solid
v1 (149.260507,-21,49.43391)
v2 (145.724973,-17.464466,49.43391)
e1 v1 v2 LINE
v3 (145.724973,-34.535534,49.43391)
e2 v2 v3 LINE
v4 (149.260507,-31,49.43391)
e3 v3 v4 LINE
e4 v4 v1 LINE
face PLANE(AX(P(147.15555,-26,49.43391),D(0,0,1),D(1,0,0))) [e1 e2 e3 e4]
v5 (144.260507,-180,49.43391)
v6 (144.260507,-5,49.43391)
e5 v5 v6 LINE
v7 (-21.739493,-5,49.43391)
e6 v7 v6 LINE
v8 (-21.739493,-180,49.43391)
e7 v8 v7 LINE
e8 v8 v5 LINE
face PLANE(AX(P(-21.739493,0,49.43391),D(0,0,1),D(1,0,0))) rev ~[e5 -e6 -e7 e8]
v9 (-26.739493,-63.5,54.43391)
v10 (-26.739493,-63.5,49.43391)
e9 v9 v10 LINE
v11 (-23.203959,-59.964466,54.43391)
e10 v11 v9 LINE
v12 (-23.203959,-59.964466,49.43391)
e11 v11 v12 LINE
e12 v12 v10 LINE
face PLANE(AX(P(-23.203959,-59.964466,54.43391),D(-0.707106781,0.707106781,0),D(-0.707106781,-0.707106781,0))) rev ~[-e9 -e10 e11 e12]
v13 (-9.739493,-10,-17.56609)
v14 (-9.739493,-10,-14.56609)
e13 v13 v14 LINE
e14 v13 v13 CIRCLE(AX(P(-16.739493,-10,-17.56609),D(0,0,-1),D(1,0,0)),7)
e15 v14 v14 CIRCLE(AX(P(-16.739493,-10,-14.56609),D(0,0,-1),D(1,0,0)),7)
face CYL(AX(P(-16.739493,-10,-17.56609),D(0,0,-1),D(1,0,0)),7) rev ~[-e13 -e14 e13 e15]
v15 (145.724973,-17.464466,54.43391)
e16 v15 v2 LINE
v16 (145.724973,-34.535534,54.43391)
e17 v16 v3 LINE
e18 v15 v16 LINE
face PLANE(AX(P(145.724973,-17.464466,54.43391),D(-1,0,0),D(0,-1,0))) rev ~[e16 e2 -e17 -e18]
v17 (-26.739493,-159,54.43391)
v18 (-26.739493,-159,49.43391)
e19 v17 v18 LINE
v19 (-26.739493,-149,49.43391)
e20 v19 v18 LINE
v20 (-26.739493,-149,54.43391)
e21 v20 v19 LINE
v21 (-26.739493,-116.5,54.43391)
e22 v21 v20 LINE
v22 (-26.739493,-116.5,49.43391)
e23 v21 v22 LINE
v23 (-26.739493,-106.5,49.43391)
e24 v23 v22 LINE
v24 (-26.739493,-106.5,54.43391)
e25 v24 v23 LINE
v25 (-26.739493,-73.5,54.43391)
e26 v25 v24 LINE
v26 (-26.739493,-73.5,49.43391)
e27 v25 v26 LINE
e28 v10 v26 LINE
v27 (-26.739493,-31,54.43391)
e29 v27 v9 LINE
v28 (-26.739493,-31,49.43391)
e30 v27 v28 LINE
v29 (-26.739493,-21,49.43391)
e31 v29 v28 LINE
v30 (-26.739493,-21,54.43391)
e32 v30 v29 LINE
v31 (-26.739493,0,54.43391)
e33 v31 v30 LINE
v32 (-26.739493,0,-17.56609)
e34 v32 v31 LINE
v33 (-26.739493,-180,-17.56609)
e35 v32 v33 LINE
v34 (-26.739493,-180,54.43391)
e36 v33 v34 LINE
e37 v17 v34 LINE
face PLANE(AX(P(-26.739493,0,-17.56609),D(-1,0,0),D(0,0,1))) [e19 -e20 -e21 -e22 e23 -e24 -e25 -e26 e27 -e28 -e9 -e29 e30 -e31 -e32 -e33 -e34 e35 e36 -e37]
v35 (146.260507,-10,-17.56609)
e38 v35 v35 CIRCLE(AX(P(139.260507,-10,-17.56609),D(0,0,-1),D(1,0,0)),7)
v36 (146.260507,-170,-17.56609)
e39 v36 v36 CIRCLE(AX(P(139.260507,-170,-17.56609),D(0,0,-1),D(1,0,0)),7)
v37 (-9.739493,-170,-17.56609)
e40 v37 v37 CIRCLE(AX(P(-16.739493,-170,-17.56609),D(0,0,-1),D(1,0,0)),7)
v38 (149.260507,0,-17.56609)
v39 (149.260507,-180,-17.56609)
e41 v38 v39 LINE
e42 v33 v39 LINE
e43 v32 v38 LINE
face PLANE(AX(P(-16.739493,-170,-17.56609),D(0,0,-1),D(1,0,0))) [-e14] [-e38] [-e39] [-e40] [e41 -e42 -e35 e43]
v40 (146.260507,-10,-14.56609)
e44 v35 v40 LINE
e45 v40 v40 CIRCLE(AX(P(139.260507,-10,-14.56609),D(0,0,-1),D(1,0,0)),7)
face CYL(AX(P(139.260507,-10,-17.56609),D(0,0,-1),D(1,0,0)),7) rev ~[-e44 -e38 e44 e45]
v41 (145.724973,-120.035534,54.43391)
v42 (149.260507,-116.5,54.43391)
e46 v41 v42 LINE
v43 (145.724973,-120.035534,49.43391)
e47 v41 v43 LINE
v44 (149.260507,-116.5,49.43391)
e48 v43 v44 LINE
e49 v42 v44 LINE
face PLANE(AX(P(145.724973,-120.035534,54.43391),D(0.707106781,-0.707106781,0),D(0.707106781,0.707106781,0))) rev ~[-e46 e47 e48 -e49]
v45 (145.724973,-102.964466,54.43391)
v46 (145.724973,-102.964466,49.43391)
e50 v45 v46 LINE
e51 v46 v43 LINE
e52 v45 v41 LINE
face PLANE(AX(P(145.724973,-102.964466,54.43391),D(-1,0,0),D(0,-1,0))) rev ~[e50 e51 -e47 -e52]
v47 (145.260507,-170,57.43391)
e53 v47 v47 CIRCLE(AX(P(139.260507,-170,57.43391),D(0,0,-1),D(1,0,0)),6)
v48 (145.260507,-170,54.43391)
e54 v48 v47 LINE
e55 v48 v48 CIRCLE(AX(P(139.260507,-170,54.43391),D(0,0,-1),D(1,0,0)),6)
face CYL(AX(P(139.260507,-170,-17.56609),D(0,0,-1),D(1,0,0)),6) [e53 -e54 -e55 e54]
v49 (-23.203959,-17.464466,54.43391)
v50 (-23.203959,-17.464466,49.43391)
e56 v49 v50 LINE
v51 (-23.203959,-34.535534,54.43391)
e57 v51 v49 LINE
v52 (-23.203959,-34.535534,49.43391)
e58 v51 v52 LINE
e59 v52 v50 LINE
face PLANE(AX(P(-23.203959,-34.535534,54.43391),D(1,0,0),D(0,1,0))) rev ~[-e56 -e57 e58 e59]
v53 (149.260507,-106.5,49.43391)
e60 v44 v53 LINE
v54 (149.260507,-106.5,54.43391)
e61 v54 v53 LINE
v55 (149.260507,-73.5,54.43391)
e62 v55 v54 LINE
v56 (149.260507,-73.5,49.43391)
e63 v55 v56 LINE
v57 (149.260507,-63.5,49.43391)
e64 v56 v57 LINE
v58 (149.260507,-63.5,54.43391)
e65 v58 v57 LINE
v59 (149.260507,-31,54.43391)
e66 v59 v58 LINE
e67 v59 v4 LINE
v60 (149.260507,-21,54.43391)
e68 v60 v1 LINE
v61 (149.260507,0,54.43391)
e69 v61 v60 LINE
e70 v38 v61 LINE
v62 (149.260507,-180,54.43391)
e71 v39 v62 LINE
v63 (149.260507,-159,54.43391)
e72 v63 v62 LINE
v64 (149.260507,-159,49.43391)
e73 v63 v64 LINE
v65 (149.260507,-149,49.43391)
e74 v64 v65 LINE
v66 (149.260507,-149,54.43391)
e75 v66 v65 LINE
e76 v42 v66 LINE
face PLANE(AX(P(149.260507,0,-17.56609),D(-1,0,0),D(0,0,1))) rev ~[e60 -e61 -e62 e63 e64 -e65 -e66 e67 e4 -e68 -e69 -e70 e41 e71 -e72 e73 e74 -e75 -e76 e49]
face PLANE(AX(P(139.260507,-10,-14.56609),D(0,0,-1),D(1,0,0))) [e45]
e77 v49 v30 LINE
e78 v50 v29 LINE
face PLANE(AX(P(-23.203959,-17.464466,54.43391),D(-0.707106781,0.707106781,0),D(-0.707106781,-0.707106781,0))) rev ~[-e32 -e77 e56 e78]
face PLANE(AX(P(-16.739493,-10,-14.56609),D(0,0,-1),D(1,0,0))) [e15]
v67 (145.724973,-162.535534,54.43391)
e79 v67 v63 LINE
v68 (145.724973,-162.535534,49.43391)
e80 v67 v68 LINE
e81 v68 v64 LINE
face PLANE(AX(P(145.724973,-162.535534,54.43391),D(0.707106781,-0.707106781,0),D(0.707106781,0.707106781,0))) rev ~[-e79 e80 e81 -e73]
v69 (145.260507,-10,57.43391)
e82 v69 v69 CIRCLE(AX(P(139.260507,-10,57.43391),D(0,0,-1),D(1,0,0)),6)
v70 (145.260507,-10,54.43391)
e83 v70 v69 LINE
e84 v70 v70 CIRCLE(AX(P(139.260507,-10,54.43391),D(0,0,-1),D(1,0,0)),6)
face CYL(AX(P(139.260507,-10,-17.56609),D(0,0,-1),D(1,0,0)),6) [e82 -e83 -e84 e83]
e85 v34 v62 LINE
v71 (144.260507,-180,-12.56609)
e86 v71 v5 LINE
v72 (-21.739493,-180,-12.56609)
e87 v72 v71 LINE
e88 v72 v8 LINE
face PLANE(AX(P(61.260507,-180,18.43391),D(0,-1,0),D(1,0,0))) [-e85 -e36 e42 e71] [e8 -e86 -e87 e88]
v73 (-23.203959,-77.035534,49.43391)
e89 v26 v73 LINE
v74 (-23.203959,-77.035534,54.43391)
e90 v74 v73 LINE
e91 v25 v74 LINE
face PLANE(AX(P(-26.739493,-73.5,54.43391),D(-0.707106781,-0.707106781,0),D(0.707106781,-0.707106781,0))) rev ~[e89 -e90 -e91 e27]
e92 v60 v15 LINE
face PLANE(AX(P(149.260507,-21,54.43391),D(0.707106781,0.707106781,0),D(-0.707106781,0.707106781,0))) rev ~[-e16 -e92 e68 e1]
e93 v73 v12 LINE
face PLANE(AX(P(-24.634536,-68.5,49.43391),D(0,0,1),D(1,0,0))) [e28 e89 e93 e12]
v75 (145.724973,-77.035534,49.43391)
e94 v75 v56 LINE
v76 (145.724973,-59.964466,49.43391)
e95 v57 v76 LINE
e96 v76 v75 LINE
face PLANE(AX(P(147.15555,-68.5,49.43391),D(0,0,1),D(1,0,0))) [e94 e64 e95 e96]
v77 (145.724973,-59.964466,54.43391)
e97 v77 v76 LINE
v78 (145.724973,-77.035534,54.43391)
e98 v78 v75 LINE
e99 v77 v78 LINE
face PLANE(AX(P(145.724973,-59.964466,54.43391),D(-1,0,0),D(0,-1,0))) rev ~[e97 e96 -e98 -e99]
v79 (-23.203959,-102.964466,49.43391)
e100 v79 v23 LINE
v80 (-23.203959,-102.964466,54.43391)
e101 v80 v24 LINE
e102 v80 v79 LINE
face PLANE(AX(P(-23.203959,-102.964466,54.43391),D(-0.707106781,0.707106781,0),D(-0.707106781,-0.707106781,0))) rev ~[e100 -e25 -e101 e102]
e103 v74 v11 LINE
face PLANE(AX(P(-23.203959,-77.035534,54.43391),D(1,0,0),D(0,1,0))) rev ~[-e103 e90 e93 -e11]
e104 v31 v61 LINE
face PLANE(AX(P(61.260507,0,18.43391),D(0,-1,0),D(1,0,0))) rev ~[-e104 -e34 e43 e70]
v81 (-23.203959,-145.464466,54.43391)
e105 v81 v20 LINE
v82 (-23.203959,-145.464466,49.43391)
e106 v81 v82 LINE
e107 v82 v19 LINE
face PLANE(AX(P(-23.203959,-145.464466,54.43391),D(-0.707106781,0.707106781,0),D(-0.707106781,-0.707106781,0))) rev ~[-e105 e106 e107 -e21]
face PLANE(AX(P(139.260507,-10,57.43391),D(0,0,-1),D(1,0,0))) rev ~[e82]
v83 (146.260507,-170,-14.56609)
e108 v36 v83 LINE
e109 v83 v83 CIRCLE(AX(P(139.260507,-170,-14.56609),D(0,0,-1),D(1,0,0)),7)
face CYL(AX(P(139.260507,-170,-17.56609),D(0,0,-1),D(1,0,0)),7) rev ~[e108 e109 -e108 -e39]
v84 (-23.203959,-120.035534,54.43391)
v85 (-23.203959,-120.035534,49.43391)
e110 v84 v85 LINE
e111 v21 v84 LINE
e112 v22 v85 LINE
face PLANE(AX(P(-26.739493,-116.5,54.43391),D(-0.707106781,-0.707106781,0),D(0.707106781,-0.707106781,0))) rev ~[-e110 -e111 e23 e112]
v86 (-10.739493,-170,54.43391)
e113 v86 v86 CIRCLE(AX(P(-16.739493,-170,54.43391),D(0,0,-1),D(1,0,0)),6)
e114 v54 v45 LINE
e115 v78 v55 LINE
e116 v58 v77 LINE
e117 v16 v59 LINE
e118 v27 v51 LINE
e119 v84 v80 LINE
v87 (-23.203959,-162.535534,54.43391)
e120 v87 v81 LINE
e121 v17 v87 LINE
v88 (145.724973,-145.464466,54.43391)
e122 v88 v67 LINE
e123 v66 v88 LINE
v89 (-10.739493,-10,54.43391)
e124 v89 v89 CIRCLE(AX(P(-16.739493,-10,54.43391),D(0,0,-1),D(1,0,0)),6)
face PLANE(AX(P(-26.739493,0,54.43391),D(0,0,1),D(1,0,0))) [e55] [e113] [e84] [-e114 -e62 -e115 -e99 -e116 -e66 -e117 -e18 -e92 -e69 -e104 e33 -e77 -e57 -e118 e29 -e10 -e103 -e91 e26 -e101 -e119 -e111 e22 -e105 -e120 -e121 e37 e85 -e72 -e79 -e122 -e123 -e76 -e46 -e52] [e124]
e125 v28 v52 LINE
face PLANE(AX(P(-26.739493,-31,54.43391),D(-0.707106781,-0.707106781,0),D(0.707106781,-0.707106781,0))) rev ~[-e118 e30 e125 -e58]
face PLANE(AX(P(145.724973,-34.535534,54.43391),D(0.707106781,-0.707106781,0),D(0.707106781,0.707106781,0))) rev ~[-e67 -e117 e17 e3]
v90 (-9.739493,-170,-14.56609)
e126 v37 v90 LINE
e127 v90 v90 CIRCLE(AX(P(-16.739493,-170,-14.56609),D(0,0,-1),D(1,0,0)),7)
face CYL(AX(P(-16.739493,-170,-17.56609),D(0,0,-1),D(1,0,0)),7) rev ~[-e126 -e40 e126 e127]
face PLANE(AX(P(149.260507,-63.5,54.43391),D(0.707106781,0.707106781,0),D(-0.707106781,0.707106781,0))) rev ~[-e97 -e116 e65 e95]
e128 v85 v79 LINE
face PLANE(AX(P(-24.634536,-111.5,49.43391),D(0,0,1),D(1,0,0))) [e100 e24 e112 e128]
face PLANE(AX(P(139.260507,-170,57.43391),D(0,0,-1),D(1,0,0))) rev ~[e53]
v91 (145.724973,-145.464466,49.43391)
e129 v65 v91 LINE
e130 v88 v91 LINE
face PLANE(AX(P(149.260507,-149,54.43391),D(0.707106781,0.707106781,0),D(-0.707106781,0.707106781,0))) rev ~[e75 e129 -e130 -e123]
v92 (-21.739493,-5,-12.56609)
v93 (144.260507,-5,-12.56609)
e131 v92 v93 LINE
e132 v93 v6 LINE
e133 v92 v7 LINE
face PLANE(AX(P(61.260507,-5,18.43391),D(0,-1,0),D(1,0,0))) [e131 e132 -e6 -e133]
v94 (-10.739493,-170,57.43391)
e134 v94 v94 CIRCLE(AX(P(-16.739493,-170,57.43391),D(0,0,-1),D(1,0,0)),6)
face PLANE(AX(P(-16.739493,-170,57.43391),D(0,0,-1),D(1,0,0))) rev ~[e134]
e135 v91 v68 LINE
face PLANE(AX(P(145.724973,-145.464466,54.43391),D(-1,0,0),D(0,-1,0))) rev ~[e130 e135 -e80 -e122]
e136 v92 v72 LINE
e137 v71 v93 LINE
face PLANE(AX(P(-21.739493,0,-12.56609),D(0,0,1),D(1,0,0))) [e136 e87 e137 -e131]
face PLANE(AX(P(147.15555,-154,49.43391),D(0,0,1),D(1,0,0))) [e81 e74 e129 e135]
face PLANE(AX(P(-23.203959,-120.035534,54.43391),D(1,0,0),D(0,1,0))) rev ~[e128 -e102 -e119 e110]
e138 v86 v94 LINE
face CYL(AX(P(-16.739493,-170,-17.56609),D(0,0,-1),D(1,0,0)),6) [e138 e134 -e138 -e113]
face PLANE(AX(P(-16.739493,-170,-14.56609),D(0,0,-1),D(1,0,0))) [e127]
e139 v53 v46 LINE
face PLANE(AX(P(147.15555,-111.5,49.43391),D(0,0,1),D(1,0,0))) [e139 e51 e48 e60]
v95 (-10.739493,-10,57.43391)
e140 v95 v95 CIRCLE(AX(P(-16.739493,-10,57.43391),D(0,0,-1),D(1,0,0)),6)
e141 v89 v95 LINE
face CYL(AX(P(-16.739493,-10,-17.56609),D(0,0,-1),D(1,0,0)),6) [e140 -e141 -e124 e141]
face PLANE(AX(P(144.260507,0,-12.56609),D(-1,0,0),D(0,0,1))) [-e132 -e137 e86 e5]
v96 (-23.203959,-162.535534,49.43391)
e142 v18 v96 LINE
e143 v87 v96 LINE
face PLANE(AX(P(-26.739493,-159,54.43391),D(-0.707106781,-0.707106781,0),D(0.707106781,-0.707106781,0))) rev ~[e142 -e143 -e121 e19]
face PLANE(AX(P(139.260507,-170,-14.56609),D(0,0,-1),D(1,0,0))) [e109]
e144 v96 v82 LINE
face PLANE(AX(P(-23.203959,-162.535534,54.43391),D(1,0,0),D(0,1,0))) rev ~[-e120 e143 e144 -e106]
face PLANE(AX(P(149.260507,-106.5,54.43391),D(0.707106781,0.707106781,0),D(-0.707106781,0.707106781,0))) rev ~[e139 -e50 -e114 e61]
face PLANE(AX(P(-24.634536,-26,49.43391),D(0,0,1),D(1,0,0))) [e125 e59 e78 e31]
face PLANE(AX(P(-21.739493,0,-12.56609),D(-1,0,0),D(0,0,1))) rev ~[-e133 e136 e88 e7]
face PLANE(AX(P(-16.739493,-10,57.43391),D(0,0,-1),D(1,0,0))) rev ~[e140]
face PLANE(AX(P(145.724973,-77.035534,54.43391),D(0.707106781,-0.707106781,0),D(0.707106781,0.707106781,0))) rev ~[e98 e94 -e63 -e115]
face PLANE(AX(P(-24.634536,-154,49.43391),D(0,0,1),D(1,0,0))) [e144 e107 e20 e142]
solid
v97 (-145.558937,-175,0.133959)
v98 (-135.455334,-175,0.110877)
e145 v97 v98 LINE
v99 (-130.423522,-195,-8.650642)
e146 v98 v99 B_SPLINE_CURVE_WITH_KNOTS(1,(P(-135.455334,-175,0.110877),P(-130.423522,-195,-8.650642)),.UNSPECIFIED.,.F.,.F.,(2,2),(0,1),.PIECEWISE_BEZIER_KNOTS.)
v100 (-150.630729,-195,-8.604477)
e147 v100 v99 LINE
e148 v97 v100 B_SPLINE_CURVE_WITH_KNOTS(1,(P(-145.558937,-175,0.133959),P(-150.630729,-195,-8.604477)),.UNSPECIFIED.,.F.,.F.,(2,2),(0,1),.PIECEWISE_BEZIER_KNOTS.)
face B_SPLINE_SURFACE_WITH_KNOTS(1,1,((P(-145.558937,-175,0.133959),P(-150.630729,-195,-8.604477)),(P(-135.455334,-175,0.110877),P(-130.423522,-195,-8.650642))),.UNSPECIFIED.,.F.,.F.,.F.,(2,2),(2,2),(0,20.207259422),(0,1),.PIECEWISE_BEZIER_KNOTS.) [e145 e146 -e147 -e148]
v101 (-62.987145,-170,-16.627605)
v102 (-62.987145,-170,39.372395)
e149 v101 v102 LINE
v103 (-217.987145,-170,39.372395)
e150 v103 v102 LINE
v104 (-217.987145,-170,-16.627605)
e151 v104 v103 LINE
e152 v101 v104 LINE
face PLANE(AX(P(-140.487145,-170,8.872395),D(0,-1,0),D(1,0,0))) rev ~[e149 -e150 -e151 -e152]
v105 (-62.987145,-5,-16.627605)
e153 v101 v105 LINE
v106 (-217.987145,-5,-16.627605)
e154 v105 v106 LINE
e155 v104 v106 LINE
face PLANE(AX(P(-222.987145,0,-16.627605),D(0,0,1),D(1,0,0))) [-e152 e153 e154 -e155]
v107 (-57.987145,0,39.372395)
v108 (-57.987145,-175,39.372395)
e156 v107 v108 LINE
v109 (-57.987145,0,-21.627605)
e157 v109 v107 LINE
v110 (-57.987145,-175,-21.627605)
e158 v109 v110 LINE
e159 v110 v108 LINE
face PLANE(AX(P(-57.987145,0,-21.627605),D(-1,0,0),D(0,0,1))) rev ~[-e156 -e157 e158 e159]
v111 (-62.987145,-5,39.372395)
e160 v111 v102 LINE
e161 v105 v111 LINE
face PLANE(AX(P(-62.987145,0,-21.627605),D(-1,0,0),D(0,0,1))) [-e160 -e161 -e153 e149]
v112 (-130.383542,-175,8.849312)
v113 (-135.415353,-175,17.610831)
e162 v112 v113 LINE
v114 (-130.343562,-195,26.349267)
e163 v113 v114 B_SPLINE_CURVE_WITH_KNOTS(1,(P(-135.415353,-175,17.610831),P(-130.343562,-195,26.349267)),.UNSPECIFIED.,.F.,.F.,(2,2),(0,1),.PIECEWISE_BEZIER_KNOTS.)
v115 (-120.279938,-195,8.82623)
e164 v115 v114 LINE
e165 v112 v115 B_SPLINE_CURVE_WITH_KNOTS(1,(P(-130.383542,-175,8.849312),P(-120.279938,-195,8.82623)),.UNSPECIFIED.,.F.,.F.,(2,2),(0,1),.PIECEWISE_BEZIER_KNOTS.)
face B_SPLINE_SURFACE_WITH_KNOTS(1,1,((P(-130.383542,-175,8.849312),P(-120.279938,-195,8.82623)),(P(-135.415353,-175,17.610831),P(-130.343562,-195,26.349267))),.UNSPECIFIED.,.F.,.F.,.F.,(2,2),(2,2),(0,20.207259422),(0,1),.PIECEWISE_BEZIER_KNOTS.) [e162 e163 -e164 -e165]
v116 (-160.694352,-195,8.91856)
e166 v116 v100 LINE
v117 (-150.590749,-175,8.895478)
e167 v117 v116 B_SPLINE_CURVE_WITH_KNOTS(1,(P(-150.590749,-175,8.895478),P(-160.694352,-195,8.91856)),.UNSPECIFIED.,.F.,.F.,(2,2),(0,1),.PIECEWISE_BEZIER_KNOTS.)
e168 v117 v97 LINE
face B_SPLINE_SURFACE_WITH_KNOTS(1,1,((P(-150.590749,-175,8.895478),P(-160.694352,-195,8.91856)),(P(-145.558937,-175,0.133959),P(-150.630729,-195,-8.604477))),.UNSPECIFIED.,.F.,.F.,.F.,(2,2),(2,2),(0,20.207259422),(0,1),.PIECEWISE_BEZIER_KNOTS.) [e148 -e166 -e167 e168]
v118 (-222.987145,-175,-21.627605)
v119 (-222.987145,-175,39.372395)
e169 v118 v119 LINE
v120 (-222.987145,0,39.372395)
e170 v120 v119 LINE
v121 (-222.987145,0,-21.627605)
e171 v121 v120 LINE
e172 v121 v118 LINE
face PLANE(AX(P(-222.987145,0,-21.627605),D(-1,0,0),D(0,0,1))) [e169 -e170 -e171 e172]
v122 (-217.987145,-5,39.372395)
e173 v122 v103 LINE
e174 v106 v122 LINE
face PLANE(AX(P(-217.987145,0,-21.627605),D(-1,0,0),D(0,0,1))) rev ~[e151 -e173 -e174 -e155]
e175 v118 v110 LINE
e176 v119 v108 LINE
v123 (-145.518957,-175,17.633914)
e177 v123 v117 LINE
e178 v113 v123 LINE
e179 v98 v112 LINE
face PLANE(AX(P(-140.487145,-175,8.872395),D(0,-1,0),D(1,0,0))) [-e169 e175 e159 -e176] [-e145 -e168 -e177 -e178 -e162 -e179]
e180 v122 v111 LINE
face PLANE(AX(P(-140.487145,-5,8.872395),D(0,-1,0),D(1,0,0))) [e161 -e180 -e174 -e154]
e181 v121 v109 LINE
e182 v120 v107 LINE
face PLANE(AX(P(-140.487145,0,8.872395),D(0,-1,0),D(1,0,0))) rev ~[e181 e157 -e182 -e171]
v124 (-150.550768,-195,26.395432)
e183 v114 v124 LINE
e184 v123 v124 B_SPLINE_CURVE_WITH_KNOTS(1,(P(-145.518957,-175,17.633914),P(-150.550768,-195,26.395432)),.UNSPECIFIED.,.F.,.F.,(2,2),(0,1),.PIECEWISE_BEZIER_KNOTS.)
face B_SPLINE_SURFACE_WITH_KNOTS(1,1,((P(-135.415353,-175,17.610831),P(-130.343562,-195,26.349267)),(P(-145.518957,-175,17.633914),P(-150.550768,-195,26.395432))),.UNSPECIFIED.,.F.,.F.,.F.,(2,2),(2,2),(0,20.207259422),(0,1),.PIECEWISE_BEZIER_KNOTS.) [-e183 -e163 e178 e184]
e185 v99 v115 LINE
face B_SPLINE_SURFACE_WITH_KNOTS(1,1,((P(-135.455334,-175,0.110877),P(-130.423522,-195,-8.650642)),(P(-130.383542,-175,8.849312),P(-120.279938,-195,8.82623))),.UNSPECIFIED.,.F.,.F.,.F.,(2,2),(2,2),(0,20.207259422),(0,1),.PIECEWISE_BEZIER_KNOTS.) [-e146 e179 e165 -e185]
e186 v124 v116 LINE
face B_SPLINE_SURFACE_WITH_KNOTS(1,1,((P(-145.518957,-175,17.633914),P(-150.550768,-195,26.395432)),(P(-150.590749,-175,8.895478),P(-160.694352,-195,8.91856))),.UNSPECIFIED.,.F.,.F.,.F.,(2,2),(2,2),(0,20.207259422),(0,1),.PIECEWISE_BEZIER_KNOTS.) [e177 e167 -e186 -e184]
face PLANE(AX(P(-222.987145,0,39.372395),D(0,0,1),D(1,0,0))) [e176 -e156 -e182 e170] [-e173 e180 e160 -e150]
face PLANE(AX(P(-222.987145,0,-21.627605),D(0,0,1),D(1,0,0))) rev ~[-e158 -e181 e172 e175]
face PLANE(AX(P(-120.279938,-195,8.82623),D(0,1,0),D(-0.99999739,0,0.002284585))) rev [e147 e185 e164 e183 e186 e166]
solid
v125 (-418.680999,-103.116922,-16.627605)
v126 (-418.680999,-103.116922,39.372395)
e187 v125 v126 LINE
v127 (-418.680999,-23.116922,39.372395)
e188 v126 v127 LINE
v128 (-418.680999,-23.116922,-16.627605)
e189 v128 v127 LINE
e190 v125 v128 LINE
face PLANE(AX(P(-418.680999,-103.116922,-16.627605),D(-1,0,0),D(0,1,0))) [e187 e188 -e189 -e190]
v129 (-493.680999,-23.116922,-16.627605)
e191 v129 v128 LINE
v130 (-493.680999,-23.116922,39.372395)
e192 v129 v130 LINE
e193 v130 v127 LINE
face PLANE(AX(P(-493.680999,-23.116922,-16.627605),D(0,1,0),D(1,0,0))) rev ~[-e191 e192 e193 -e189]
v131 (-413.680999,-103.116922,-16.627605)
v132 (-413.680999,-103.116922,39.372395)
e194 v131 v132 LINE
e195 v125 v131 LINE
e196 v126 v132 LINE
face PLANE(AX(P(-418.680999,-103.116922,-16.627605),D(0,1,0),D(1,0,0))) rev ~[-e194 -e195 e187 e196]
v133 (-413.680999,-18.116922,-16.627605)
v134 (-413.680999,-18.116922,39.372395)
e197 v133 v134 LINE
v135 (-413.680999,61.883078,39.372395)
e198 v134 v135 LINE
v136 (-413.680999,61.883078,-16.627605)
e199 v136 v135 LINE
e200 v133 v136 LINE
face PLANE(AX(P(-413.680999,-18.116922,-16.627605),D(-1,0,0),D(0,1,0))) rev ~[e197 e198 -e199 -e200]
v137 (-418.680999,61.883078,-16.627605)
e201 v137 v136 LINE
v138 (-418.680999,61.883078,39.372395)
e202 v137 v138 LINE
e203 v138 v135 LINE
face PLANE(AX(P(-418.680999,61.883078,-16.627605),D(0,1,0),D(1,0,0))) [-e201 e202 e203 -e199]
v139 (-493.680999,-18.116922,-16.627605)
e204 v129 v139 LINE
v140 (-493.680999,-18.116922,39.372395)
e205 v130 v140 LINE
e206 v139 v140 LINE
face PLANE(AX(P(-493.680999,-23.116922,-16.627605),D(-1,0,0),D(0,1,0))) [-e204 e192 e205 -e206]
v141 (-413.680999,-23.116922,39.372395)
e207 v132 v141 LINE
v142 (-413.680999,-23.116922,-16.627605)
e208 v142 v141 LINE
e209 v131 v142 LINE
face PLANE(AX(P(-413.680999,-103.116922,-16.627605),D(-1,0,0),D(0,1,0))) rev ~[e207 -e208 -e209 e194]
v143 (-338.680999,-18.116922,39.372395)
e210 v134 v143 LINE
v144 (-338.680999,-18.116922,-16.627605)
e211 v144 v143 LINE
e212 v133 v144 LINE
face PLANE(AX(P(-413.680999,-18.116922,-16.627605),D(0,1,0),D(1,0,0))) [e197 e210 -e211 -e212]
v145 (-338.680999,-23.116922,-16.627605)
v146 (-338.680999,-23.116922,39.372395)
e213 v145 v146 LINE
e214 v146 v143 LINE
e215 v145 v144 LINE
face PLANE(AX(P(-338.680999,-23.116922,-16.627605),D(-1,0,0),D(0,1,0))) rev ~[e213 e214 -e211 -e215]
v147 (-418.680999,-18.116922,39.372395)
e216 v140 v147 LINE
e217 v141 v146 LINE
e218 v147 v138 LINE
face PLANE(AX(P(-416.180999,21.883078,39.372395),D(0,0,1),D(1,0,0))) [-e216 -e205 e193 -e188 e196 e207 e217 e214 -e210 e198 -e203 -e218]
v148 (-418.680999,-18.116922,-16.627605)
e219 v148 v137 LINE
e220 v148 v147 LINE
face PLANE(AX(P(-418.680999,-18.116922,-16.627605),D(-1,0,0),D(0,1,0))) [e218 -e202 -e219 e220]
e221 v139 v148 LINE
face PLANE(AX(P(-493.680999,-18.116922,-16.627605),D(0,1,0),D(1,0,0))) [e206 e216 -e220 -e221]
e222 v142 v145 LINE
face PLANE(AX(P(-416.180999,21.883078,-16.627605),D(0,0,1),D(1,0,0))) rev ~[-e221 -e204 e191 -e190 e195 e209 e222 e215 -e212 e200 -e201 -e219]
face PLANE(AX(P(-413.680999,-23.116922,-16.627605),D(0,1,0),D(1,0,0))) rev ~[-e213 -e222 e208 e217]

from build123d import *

# Parameters (mm, degrees)
F0_W      = 166
F0_H      = 62
F1_DEPTH  = 5
F0_W_2    = 176
F0_H_2    = 72
F2_DEPTH  = 180
F3_W      = 165
F3_H      = 61
F4_DEPTH  = 175
F5_T      = -5
F10_R     = 6
F11_DEPTH = 75
F10_R_2   = 7
F12_DEPTH = 3
F13_DEPTH = 314
F14_DEPTH = 5
F15_W     = 5
F15_H     = 80
F15_W_2   = 75
F15_H_2   = 5
F16_DEPTH = 56
F18_DEPTH = 5
F19_DEPTH = 3
F19_TAPER = -3


with BuildPart() as f1:
    # F0 (on Front) → F1 (new body)
    with BuildSketch(Plane.XZ):
        with Locations((61.2605069876, 18.4339095503)):
            Rectangle(F0_W, F0_H)
    extrude(amount=F1_DEPTH)

    # F0 (on Front) → F2 (join)
    with BuildSketch(Plane.XZ):
        with Locations((61.2605069876, 18.4339095503)):
            Rectangle(F0_W_2, F0_H_2)
        with Locations((61.2605069876, 18.4339095503)):
            Rectangle(F0_W, F0_H, mode=Mode.SUBTRACT)
    extrude(amount=F2_DEPTH)

    # F10 (on face) → F11 (join)
    with BuildSketch(Plane(origin=(0, 0, -17.5660904497), x_dir=(1, 0, 0), z_dir=(0, 0, -1))):
        with Locations((-16.7394930124, 170)):
            Circle(F10_R)
        with Locations((139.2605069876, 170)):
            Circle(F10_R)
        with Locations((139.2605069876, 10)):
            Circle(F10_R)
        with Locations((-16.7394930124, 10)):
            Circle(F10_R)
    extrude(amount=-F11_DEPTH)

    # F10 (on face) → F12 (cut)
    with BuildSketch(Plane(origin=(0, 0, -17.5660904497), x_dir=(1, 0, 0), z_dir=(0, 0, -1))):
        with Locations((-16.7394930124, 170)):
            Circle(F10_R_2)
        with Locations((-16.7394930124, 170)):
            Circle(F10_R, mode=Mode.SUBTRACT)
        with Locations((139.2605069876, 170)):
            Circle(F10_R_2)
        with Locations((139.2605069876, 170)):
            Circle(F10_R, mode=Mode.SUBTRACT)
        with Locations((139.2605069876, 10)):
            Circle(F10_R_2)
        with Locations((139.2605069876, 10)):
            Circle(F10_R, mode=Mode.SUBTRACT)
        with Locations((-16.7394930124, 10)):
            Circle(F10_R_2)
        with Locations((-16.7394930124, 10)):
            Circle(F10_R, mode=Mode.SUBTRACT)
    extrude(amount=-F12_DEPTH, mode=Mode.SUBTRACT)

    # F0 (on Front) → F13 (cut)
    with BuildSketch(Plane.XZ):
        with Locations((61.2605069876, 18.4339095503)):
            Rectangle(F0_W, F0_H)
    extrude(amount=F13_DEPTH, mode=Mode.SUBTRACT)

    # F0 (on Front) → F14 (join)
    with BuildSketch(Plane.XZ):
        with Locations((61.2605069876, 18.4339095503)):
            Rectangle(F0_W, F0_H)
    extrude(amount=F14_DEPTH)

    # F17 (on face) → F18 (cut)
    with BuildSketch(Plane.XY.offset(54.4339095503)):
        Polygon((-23.2039591065, -17.4644660941), (-26.7394930124, -21), (-26.7394930124, -31), (-23.2039591065, -34.5355339059), align=None)
        Polygon((-26.7394930124, -63.5), (-26.7394930124, -73.5), (-23.2039591065, -77.0355339059), (-23.2039591065, -59.9644660941), align=None)
        Polygon((-26.7394930124, -106.5), (-26.7394930124, -116.5), (-23.2039591065, -120.0355339059), (-23.2039591065, -102.9644660941), align=None)
        Polygon((-26.7394930124, -149), (-26.7394930124, -159), (-23.2039591065, -162.5355339059), (-23.2039591065, -145.4644660941), align=None)
        Polygon((149.2605069876, -159), (149.2605069876, -149), (145.7249730816, -145.4644660941), (145.7249730816, -162.5355339059), align=None)
        Polygon((145.7249730816, -120.0355339059), (149.2605069876, -116.5), (149.2605069876, -106.5), (145.7249730816, -102.9644660941), align=None)
        Polygon((145.7249730816, -77.0355339059), (149.2605069876, -73.5), (149.2605069876, -63.5), (145.7249730816, -59.9644660941), align=None)
        Polygon((145.7249730816, -34.5355339059), (149.2605069876, -31), (149.2605069876, -21), (145.7249730816, -17.4644660941), align=None)
    extrude(amount=-F18_DEPTH, mode=Mode.SUBTRACT)

    # F10 (on face) → F19 (cut)
    with BuildSketch(Plane(origin=(0, 0, -17.5660904497), x_dir=(1, 0, 0), z_dir=(0, 0, -1))):
        with Locations((-16.7394930124, 10)):
            Circle(F10_R)
        with Locations((139.2605069876, 10)):
            Circle(F10_R)
        with Locations((139.2605069876, 170)):
            Circle(F10_R)
        with Locations((-16.7394930124, 170)):
            Circle(F10_R)
    extrude(amount=-F19_DEPTH, taper=F19_TAPER, mode=Mode.SUBTRACT)


with BuildPart() as f4:
    # F3 (on Front) → F4 (new body)
    with BuildSketch(Plane.XZ):
        with Locations((-140.4871451855, 8.8723950386)):
            Rectangle(F3_W, F3_H)
    extrude(amount=F4_DEPTH)

    # F5
    f5_openings = [f4.faces().sort_by_distance(p)[0] for p in [
        (-140.487145, -87.5, 39.372395),
    ]]
    offset(amount=F5_T, openings=f5_openings)

    # F6 (on face) → F9 section 0
    with BuildSketch(Plane.XZ.offset(175)):
        Polygon((-130.3835418418, 8.8493124353), (-135.4153533928, 17.6108309024), (-145.5189567365, 17.6339135056), (-150.5907485292, 8.8954776419), (-145.5589369781, 0.1339591748), (-135.4553336344, 0.1108765716), align=None)
    # F8 (on offset) → F9 section 1
    with BuildSketch(Plane.XZ.offset(195)):
        Polygon((-120.2799384981, 8.8262298321), (-130.3435616002, 26.3492667662), (-150.5507682876, 26.3954319727), (-160.6943518729, 8.9185602451), (-150.6307287708, -8.6044766889), (-130.4235220834, -8.6506418955), align=None)
    loft()


with BuildPart() as f16:
    # F15 (on face) → F16 (new body)
    with BuildSketch(Plane.XY.offset(-16.6276049614)):
        with Locations((-416.180999279, 21.8830779195)):
            Rectangle(F15_W, F15_H)
        with Locations((-456.180999279, -20.6169220805)):
            Rectangle(F15_W_2, F15_H_2)
        with Locations((-416.180999279, -20.6169220805)):
            Rectangle(F15_W, F15_H_2)
        with Locations((-376.180999279, -20.6169220805)):
            Rectangle(F15_W_2, F15_H_2)
        with Locations((-416.180999279, -63.1169220805)):
            Rectangle(F15_W, F15_H)
    extrude(amount=F16_DEPTH)


solid = Compound([f1.part, f4.part, f16.part])
